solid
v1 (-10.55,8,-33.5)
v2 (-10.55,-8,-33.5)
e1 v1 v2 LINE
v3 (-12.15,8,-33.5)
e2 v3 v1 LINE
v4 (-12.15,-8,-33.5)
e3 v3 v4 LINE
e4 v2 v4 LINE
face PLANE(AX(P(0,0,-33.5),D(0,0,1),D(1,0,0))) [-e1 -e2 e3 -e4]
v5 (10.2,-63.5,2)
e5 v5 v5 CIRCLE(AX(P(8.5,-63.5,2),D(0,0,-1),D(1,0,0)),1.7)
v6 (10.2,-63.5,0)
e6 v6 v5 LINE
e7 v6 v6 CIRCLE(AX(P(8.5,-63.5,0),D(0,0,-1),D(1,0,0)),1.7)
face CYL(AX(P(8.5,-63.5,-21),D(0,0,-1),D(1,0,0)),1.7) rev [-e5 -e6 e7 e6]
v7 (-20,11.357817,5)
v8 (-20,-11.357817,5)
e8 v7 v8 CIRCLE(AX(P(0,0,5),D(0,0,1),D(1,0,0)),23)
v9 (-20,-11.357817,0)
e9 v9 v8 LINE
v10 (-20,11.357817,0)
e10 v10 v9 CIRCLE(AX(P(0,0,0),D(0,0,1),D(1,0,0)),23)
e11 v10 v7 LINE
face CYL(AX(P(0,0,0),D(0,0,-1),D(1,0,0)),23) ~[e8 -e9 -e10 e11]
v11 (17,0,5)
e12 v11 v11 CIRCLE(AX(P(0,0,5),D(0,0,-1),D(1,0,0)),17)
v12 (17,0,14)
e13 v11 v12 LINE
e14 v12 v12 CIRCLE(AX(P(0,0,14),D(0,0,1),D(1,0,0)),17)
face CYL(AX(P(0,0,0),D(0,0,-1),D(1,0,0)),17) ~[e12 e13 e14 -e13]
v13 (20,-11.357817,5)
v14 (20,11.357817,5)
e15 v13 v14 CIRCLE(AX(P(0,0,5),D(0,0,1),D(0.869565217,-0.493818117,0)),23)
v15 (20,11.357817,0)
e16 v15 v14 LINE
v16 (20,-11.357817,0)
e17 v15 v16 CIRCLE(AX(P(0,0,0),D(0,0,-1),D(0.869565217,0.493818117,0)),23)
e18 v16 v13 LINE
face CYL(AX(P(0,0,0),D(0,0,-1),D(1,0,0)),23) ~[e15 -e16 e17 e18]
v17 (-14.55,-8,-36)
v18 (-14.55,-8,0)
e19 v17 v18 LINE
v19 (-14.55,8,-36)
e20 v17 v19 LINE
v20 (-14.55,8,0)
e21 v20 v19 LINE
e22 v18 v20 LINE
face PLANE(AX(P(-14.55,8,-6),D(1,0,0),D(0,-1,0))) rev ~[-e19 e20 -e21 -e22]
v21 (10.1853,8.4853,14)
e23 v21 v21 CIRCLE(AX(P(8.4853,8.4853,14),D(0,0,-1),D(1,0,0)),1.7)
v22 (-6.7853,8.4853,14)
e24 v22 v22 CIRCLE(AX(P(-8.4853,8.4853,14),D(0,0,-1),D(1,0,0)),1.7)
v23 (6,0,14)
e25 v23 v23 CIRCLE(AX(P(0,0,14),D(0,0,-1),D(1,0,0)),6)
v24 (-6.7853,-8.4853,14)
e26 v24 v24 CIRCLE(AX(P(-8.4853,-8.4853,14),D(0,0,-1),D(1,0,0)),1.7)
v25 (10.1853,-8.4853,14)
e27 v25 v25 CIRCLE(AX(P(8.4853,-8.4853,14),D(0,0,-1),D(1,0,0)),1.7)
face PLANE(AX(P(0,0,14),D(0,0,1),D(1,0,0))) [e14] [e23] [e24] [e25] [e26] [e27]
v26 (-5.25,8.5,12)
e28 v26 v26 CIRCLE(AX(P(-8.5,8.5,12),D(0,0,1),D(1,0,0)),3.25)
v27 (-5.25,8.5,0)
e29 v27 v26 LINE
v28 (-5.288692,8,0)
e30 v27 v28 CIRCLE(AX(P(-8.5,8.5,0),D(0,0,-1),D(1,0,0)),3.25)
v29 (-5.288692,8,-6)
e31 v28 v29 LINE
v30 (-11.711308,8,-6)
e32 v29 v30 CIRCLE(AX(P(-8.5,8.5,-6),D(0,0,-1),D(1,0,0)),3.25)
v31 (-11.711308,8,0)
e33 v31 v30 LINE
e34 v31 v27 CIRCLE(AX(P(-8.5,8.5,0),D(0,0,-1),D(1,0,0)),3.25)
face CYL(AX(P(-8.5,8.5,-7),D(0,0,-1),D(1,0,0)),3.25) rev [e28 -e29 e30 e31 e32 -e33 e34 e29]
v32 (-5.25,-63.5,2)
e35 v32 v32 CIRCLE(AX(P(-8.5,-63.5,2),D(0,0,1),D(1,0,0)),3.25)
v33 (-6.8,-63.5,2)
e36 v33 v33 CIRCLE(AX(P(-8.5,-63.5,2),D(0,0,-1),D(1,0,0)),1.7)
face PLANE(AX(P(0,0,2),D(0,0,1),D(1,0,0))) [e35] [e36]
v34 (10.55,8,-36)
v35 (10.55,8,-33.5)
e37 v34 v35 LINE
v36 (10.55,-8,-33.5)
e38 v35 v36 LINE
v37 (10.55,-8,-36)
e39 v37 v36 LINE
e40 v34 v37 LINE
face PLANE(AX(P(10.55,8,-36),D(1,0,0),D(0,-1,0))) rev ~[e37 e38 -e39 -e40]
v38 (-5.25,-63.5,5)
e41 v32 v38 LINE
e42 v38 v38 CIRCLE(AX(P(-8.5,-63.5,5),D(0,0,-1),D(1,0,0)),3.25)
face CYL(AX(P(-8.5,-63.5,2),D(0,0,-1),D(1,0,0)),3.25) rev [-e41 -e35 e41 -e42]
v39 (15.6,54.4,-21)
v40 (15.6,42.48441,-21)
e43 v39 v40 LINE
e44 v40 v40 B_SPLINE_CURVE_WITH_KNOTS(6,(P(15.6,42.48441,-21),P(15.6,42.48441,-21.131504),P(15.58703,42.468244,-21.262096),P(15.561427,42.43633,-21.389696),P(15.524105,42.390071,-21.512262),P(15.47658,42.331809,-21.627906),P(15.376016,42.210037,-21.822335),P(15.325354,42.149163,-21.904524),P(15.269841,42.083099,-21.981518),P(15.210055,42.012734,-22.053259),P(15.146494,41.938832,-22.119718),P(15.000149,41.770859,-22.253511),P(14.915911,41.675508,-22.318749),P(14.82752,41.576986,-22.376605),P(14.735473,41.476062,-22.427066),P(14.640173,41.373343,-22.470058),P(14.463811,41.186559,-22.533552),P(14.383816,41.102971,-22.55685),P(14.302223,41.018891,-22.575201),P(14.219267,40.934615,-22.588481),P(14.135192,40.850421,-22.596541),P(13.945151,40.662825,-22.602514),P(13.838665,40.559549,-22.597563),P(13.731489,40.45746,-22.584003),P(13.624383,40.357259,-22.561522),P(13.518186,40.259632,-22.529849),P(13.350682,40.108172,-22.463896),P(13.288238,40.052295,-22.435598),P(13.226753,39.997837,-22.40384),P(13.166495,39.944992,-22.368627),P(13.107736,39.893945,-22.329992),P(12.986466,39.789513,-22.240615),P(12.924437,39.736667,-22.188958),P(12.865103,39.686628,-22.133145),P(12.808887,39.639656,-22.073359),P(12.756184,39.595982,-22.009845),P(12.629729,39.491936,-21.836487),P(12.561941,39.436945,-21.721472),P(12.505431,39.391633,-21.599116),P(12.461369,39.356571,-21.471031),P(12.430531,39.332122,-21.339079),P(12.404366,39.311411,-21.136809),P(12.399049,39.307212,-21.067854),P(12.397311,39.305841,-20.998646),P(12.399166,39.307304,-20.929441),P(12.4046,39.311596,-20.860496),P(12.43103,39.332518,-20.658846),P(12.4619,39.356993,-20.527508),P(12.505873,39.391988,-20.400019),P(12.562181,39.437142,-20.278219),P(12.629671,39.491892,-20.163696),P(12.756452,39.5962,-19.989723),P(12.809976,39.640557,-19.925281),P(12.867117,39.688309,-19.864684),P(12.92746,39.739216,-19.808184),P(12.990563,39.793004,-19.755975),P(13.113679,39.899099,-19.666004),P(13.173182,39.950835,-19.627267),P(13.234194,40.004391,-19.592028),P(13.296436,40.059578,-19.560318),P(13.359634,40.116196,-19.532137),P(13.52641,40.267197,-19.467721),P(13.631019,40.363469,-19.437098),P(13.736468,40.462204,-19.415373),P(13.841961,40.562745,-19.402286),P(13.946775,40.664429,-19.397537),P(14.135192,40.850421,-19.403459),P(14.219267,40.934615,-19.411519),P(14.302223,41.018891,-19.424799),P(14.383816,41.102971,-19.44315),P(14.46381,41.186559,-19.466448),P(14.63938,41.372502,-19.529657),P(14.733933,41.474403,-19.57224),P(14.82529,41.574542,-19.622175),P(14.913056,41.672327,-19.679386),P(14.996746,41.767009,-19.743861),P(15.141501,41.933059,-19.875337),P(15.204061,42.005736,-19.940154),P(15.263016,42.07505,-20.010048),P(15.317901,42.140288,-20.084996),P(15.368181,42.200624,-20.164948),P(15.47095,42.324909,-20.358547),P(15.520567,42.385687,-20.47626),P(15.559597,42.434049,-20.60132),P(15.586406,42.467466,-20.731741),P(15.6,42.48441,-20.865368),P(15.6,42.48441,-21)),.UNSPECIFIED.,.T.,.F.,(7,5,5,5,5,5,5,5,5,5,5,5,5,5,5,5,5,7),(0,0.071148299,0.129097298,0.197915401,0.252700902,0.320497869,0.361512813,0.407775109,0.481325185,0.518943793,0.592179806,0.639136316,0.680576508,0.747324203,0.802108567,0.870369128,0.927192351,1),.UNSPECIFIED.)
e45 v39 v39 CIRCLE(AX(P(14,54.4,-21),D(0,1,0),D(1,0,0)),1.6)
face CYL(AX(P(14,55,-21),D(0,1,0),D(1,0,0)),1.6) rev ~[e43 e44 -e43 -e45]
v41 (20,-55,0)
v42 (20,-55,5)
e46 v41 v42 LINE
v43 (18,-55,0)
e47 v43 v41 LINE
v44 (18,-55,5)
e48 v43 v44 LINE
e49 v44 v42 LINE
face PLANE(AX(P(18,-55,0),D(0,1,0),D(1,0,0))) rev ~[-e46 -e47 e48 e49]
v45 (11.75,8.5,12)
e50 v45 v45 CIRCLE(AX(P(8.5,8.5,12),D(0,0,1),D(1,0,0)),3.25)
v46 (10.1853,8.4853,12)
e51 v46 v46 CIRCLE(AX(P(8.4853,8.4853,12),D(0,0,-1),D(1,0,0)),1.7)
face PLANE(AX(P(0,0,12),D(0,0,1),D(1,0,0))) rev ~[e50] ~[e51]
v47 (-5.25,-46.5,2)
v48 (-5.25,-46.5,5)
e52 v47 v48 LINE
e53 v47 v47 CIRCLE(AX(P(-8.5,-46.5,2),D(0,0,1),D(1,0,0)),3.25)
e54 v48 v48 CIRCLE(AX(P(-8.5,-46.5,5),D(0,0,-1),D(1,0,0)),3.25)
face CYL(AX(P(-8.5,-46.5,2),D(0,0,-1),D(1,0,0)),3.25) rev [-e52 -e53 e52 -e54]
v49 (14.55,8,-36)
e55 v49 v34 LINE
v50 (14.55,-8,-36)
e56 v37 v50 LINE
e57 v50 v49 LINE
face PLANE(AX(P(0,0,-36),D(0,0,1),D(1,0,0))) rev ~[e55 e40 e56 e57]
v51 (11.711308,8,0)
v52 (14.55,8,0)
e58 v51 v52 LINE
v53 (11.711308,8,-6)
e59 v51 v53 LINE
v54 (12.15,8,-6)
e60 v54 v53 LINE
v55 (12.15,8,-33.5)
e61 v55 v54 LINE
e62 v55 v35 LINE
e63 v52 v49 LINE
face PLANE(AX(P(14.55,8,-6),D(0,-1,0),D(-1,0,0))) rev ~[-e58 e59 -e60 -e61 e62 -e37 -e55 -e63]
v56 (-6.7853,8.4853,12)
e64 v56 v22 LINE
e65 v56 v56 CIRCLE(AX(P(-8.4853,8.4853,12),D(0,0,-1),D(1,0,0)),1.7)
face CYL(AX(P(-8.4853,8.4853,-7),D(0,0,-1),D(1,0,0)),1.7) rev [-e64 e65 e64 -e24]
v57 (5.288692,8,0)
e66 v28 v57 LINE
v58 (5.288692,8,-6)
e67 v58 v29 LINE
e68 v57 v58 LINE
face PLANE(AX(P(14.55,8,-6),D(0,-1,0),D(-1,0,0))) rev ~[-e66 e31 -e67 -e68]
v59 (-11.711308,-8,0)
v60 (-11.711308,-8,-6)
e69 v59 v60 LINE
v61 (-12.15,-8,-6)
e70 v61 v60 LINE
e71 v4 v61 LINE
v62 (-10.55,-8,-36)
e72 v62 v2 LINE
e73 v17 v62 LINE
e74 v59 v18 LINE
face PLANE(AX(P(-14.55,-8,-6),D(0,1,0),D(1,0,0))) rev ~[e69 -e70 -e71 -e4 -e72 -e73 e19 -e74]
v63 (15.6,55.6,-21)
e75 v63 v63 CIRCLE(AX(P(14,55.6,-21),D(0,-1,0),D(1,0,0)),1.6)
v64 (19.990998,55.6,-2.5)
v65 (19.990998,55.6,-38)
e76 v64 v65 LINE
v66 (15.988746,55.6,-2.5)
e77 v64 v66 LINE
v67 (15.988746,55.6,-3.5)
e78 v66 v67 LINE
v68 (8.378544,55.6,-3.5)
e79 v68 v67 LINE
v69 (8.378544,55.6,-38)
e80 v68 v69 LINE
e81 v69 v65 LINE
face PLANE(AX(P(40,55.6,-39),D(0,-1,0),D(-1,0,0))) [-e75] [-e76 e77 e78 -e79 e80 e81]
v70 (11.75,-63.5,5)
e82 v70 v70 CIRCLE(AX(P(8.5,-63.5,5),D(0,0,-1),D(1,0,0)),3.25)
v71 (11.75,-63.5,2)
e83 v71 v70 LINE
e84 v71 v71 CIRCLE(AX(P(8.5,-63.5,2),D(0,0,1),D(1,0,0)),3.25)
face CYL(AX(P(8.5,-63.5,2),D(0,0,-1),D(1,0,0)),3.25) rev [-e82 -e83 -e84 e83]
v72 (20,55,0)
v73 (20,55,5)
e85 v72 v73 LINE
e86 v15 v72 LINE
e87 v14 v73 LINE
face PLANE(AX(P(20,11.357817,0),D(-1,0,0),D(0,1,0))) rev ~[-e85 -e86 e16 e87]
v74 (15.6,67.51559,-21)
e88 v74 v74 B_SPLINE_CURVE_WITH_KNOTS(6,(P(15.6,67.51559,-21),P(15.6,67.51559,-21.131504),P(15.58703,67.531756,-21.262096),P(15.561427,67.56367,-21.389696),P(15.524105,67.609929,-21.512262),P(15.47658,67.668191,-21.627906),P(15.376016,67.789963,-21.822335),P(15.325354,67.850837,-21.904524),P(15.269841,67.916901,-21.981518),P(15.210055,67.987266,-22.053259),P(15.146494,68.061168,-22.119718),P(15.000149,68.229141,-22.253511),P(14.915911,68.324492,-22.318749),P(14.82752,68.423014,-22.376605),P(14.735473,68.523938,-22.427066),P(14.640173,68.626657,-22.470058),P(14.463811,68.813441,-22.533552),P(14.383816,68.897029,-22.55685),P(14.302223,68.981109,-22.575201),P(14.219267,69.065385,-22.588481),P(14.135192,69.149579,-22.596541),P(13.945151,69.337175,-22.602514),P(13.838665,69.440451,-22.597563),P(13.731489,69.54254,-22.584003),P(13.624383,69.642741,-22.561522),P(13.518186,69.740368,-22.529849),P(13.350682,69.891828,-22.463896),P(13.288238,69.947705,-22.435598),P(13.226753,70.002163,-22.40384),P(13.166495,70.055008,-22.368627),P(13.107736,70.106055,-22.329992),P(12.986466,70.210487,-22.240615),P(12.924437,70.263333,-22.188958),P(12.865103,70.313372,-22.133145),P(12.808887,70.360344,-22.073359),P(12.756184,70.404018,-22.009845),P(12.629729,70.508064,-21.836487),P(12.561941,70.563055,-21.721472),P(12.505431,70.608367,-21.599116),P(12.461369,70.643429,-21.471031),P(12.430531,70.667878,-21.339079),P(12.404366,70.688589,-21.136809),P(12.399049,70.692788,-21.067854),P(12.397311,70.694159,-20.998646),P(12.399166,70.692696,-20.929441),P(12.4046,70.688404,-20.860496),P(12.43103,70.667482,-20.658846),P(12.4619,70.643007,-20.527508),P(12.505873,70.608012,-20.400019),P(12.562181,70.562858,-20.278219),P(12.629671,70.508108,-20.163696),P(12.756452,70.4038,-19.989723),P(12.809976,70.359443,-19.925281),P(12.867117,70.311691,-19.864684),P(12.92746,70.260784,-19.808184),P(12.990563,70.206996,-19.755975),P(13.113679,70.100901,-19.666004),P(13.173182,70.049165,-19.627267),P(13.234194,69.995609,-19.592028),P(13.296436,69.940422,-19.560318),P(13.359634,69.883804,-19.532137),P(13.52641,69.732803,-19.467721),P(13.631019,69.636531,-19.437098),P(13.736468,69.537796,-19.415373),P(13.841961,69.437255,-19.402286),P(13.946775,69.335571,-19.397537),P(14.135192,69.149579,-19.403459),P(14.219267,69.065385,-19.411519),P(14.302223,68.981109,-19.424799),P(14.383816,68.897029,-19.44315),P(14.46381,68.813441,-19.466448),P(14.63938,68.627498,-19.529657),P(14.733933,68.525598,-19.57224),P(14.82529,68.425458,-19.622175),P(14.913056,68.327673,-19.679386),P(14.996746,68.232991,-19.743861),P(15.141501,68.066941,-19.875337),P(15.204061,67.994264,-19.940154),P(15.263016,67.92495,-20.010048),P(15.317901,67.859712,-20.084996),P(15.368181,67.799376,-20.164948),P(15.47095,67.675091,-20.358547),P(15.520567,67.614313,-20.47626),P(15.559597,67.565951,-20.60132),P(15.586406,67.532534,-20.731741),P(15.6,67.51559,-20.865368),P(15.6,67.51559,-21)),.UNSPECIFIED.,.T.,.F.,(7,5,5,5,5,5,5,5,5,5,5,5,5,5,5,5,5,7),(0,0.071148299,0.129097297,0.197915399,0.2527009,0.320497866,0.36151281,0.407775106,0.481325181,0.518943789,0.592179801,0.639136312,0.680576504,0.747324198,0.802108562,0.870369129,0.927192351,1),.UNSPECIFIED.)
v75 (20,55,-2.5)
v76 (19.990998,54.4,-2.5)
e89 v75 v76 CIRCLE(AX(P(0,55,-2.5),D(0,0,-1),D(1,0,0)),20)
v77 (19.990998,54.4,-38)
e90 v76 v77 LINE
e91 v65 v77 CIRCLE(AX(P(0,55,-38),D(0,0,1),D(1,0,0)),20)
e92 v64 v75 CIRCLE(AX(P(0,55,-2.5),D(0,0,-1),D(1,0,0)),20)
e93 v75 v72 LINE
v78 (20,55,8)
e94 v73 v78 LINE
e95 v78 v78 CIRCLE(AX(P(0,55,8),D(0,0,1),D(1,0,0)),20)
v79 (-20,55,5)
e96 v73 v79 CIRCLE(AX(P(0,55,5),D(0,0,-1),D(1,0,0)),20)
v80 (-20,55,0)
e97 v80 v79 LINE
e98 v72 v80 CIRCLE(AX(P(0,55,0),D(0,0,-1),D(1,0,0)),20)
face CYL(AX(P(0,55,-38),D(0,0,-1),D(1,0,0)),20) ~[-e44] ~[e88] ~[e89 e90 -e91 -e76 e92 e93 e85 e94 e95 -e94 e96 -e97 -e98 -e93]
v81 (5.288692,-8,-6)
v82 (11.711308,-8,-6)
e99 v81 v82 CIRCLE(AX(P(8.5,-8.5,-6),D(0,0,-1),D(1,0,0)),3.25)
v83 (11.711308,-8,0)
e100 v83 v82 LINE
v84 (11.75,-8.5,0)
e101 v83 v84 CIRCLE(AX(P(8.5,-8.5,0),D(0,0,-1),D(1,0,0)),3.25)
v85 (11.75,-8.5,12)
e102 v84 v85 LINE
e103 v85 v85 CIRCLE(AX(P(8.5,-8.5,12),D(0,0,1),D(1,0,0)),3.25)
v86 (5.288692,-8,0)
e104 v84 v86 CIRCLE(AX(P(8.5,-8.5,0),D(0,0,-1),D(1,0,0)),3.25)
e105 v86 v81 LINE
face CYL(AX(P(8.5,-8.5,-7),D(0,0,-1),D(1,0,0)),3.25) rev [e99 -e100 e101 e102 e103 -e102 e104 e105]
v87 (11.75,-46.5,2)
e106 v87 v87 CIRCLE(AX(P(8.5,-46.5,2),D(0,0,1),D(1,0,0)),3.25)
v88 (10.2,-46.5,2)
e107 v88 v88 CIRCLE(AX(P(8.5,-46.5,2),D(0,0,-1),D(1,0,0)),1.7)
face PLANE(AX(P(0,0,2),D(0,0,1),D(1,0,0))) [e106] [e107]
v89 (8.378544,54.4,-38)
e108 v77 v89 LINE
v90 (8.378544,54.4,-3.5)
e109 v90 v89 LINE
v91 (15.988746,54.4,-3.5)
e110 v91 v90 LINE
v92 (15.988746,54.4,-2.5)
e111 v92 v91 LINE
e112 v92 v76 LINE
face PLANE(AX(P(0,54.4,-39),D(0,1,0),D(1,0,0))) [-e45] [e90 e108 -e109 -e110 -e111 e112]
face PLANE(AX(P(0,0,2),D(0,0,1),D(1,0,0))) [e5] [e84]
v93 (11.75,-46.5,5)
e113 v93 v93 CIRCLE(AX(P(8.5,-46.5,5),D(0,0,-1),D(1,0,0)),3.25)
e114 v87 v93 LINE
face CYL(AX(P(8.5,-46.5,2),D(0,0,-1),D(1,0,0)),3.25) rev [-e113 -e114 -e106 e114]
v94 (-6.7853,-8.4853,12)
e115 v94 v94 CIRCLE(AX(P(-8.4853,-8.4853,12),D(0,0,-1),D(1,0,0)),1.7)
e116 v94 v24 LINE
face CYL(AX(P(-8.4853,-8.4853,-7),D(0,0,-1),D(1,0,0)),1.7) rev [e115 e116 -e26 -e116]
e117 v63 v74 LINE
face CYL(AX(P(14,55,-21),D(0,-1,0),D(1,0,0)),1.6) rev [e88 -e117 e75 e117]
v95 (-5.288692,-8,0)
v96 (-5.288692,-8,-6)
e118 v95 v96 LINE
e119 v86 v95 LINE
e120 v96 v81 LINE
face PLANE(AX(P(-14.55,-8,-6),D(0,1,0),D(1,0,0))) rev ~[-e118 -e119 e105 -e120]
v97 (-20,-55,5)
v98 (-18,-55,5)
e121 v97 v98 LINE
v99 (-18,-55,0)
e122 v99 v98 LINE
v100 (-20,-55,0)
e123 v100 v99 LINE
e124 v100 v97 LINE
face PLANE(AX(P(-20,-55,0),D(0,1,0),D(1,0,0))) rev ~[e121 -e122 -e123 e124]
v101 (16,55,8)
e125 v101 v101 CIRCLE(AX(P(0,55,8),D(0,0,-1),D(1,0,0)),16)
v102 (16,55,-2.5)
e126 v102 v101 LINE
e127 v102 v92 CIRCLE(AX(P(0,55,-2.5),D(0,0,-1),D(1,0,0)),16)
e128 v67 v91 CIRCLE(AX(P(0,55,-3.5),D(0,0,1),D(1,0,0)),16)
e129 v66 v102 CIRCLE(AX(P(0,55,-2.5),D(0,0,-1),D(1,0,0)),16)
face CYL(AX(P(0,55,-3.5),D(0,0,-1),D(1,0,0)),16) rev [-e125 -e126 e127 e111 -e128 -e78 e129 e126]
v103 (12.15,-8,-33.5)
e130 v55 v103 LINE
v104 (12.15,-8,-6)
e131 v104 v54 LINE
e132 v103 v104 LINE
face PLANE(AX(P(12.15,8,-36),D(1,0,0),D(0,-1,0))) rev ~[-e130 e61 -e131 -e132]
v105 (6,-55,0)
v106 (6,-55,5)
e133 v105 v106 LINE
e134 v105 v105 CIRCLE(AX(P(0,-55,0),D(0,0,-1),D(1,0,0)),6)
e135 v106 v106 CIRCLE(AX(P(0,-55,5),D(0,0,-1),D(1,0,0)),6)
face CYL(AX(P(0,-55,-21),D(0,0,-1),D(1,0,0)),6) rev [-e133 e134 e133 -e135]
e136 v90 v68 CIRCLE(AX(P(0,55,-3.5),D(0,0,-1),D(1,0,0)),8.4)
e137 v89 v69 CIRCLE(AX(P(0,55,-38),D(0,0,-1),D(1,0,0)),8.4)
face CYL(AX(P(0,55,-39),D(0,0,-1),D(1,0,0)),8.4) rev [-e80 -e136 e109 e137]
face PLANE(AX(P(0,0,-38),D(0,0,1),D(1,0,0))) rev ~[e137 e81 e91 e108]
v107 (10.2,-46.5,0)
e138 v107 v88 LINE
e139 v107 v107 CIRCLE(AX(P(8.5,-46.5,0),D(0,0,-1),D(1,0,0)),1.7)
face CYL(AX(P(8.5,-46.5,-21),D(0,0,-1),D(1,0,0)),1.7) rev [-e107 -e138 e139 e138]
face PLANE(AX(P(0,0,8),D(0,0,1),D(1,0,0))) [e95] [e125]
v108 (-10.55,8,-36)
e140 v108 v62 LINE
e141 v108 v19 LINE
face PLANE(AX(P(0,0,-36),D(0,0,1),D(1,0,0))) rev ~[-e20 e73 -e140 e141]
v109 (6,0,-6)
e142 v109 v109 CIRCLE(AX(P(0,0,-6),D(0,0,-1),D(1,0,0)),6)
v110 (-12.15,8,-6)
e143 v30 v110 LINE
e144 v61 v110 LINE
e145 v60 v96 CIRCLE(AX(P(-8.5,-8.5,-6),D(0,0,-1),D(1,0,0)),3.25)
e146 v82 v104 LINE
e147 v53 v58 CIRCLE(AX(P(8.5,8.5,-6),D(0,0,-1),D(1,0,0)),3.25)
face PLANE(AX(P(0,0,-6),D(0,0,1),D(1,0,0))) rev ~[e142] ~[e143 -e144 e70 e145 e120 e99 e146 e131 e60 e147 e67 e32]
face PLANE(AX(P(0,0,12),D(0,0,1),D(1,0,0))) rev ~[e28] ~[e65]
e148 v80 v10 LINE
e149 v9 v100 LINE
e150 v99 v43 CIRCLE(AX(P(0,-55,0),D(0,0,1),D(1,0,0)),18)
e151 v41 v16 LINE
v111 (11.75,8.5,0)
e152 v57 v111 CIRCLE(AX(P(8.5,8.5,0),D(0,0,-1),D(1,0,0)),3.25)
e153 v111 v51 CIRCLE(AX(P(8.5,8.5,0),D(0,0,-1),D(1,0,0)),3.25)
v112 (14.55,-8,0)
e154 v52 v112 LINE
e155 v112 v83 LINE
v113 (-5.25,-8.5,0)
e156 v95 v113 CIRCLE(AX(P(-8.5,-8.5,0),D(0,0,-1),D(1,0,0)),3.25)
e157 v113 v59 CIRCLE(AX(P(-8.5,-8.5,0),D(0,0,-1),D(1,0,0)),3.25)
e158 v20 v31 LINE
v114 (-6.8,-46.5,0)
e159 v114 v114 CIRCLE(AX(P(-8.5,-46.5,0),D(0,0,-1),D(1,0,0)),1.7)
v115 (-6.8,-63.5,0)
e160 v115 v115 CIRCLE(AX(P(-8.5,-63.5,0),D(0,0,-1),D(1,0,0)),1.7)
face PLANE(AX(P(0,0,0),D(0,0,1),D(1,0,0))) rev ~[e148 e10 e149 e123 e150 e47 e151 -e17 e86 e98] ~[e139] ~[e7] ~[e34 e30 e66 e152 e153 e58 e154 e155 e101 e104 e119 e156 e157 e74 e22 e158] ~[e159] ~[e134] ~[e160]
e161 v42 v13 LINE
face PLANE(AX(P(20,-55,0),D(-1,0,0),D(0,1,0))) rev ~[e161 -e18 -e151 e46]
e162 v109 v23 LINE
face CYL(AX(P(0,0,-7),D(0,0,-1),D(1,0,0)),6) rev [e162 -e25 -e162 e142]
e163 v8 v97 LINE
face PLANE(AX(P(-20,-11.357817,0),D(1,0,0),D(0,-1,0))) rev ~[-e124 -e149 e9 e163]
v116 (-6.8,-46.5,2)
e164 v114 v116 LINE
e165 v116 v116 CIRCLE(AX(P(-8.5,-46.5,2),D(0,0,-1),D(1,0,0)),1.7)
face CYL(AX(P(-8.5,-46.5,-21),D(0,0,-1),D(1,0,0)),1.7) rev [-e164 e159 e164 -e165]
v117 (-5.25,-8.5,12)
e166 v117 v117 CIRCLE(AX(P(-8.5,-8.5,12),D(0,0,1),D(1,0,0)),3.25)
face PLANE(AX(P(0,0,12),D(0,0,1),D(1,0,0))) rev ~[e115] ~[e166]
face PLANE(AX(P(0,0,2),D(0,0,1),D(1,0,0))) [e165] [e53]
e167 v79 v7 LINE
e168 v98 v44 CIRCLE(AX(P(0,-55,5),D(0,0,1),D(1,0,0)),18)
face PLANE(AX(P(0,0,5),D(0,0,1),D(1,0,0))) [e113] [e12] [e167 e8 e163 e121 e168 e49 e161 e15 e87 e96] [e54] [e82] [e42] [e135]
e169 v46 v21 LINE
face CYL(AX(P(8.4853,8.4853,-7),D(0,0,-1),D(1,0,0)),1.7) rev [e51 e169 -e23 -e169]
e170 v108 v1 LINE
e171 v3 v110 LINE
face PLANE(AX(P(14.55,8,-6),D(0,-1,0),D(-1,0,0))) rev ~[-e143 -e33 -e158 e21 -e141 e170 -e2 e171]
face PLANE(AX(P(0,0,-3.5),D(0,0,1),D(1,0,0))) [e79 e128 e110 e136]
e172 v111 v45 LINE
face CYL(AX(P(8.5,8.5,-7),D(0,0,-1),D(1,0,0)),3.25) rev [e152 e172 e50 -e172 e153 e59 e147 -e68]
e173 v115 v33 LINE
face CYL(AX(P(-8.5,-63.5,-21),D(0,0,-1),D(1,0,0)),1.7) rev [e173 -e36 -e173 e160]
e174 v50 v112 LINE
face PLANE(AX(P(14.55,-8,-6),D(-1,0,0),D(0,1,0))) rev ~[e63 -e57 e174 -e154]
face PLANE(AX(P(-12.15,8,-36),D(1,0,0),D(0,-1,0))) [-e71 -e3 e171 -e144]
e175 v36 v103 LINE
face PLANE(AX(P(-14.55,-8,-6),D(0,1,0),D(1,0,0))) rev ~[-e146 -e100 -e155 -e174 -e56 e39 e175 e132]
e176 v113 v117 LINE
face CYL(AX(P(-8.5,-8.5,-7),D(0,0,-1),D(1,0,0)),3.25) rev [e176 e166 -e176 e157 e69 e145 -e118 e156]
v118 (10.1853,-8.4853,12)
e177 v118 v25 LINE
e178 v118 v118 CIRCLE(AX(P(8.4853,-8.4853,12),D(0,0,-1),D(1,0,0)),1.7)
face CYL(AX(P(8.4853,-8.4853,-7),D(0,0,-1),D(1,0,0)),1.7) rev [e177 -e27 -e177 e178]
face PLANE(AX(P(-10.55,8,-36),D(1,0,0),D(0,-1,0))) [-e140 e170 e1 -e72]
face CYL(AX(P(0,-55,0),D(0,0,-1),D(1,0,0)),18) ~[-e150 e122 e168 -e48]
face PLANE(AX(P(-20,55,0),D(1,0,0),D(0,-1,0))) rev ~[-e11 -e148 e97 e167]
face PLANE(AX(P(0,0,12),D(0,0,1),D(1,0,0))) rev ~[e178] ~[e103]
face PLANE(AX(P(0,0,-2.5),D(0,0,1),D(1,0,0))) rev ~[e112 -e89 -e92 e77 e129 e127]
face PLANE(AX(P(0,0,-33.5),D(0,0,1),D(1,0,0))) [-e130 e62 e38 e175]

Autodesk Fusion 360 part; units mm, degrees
sketch "Sketch1" plane through (0, 0, 0) normal (0, 0, 1) x (1, 0, 0)
  line L0 (-20, -55) -> (20, -55)
  line L1 (20, -55) -> (20, 55)
  line L2 (20, 55) -> (-20, 55)
  line L3 (-20, 55) -> (-20, -55)
  circle A0 centre (0, 0) radius 23
  circle A1 centre (0, 55) radius 20
  circle A2 centre (0, -55) radius 18
extrude "Extrude1" add sketch "Sketch1" along normal blind 5
sketch "Sketch2" plane through (0, 0, 0) normal (0, 0, 1) x (1, 0, 0)
  circle A0 centre (0, 0) radius 17
extrude "Extrude2" add sketch "Sketch2" along normal blind 14
ref_plane "WorkPlane2" through (0, 0, -38) normal (0, 0, 1) x (1, 0, 0)
sketch "Sketch4" plane through (0, 0, -38) normal (0, 0, 1) x (1, 0, 0)
  circle A0 centre (0, 55) radius 20
extrude "Extrude4" add sketch "Sketch4" along normal blind 46
ref_plane "WorkPlane3" through (0, 0, -6) normal (0, 0, 1) x (1, 0, 0)
sketch "Sketch5" plane through (0, 0, -6) normal (0, 0, 1) x (1, 0, 0)
  line L0 (-14.55, -8) -> (14.55, -8)
  line L1 (14.55, -8) -> (14.55, 8)
  line L2 (14.55, 8) -> (-14.55, 8)
  line L3 (-14.55, 8) -> (-14.55, -8)
extrude "Extrude5" add sketch "Sketch5" along normal blind 7
ref_plane "WorkPlane4" through (0, 0, -36) normal (0, 0, 1) x (1, 0, 0)
sketch "Sketch6" plane through (0, 0, -36) normal (0, 0, 1) x (1, 0, 0)
  line L0 (-12.15, -8) -> (-14.55, -8)
  line L1 (-14.55, -8) -> (-14.55, 8)
  line L2 (-14.55, 8) -> (-12.15, 8)
  line L3 (-12.15, 8) -> (-12.15, -8)
  line L4 (12.15, -8) -> (14.55, -8)
  line L5 (14.55, -8) -> (14.55, 8)
  line L6 (14.55, 8) -> (12.15, 8)
  line L7 (12.15, 8) -> (12.15, -8)
extrude "Extrude6" add sketch "Sketch6" along normal blind 31
ref_plane "WorkPlane5" through (0, 0, -36) normal (0, 0, 1) x (1, 0, 0)
sketch "Sketch7" plane through (0, 0, -36) normal (0, 0, 1) x (1, 0, 0)
  line L0 (-10.55, -8) -> (-14.55, -8)
  line L1 (-14.55, -8) -> (-14.55, 8)
  line L2 (-14.55, 8) -> (-10.55, 8)
  line L3 (-10.55, 8) -> (-10.55, -8)
  line L4 (10.55, -8) -> (14.55, -8)
  line L5 (14.55, -8) -> (14.55, 8)
  line L6 (14.55, 8) -> (10.55, 8)
  line L7 (10.55, 8) -> (10.55, -8)
extrude "Extrude7" add sketch "Sketch7" along normal blind 2.5
ref_plane "WorkPlane6" through (0, 0, -7) normal (0, 0, 1) x (1, 0, 0)
sketch "Sketch8" plane through (0, 0, -7) normal (0, 0, 1) x (1, 0, 0)
  circle A0 centre (8.4853, 8.4853) radius 1.7
  circle A1 centre (-8.4853, 8.4853) radius 1.7
  circle A2 centre (-8.4853, -8.4853) radius 1.7
  circle A3 centre (8.4853, -8.4853) radius 1.7
extrude "Extrude8" cut sketch "Sketch8" along normal blind 22
ref_plane "WorkPlane7" through (0, 0, -7) normal (0, 0, 1) x (1, 0, 0)
sketch "Sketch9" plane through (0, 0, -7) normal (0, 0, 1) x (1, 0, 0)
  circle A0 centre (0, 0) radius 6
extrude "Extrude9" cut sketch "Sketch9" along normal blind 22
ref_plane "WorkPlane8" through (0, 0, -21) normal (0, 0, 1) x (1, 0, 0)
sketch "Sketch10" plane through (0, 0, -21) normal (0, 0, 1) x (1, 0, 0)
  circle A0 centre (0, -55) radius 6
extrude "Extrude10" cut sketch "Sketch10" along normal blind 30
ref_plane "WorkPlane9" through (0, 0, -39) normal (0, 0, 1) x (1, 0, 0)
sketch "Sketch11" plane through (0, 0, -39) normal (0, 0, 1) x (1, 0, 0)
  circle A0 centre (0, 55) radius 8.4
extrude "Extrude11" cut sketch "Sketch11" along normal blind 48
ref_plane "WorkPlane10" through (0, 0, -3.5) normal (0, 0, 1) x (1, 0, 0)
sketch "Sketch12" plane through (0, 0, -3.5) normal (0, 0, 1) x (1, 0, 0)
  circle A0 centre (0, 55) radius 16
extrude "Extrude12" cut sketch "Sketch12" along normal blind 12.5
ref_plane "WorkPlane11" through (0, 0, -39) normal (0, 0, 1) x (1, 0, 0)
sketch "Sketch13" plane through (0, 0, -39) normal (0, 0, 1) x (1, 0, 0)
  line L0 (0, 54.4) -> (40, 54.4)
  line L1 (40, 54.4) -> (40, 55.6)
  line L2 (40, 55.6) -> (0, 55.6)
  line L3 (0, 55.6) -> (0, 54.4)
extrude "Extrude13" cut sketch "Sketch13" along normal blind 36.5
ref_plane "WorkPlane12" through (0, 55, 0) normal (0, 1, 0) x (0, 0, 1)
sketch "Sketch14" plane through (0, 55, 0) normal (0, 1, 0) x (1, 0, 0)
  circle A0 centre (14, 21) radius 1.6
extrude "Extrude14" cut sketch "Sketch14" along normal mid plane 50
sketch "CupBossHoles" plane through (0, 0, -21) normal (0, 0, 1) x (1, 0, 0)
  circle A0 centre (-8.5, -63.5) radius 1.7
  circle A1 centre (-8.5, -46.5) radius 1.7
  circle A2 centre (8.5, -63.5) radius 1.7
  circle A3 centre (8.5, -46.5) radius 1.7
extrude "CupBossHolesCut" cut sketch "CupBossHoles" along normal blind 30
sketch "CupScrewCounterbores" plane through (0, 0, 0) normal (0, 0, 1) x (1, 0, 0)
  circle A0 centre (-8.5, -63.5) radius 3.25
  circle A1 centre (-8.5, -46.5) radius 3.25
  circle A2 centre (8.5, -63.5) radius 3.25
  circle A3 centre (8.5, -46.5) radius 3.25
extrude "CupScrewCounterboresCut" cut sketch "CupScrewCounterbores" along normal through all from surface at 2
sketch "MainScrewCounterbores" plane through (0, 0, -7) normal (0, 0, 1) x (1, 0, 0)
  circle A0 centre (-8.5, -8.5) radius 3.25
  circle A1 centre (-8.5, 8.5) radius 3.25
  circle A2 centre (8.5, -8.5) radius 3.25
  circle A3 centre (8.5, 8.5) radius 3.25
extrude "MainScrewCounterboresCut" cut sketch "MainScrewCounterbores" along normal blind 19
